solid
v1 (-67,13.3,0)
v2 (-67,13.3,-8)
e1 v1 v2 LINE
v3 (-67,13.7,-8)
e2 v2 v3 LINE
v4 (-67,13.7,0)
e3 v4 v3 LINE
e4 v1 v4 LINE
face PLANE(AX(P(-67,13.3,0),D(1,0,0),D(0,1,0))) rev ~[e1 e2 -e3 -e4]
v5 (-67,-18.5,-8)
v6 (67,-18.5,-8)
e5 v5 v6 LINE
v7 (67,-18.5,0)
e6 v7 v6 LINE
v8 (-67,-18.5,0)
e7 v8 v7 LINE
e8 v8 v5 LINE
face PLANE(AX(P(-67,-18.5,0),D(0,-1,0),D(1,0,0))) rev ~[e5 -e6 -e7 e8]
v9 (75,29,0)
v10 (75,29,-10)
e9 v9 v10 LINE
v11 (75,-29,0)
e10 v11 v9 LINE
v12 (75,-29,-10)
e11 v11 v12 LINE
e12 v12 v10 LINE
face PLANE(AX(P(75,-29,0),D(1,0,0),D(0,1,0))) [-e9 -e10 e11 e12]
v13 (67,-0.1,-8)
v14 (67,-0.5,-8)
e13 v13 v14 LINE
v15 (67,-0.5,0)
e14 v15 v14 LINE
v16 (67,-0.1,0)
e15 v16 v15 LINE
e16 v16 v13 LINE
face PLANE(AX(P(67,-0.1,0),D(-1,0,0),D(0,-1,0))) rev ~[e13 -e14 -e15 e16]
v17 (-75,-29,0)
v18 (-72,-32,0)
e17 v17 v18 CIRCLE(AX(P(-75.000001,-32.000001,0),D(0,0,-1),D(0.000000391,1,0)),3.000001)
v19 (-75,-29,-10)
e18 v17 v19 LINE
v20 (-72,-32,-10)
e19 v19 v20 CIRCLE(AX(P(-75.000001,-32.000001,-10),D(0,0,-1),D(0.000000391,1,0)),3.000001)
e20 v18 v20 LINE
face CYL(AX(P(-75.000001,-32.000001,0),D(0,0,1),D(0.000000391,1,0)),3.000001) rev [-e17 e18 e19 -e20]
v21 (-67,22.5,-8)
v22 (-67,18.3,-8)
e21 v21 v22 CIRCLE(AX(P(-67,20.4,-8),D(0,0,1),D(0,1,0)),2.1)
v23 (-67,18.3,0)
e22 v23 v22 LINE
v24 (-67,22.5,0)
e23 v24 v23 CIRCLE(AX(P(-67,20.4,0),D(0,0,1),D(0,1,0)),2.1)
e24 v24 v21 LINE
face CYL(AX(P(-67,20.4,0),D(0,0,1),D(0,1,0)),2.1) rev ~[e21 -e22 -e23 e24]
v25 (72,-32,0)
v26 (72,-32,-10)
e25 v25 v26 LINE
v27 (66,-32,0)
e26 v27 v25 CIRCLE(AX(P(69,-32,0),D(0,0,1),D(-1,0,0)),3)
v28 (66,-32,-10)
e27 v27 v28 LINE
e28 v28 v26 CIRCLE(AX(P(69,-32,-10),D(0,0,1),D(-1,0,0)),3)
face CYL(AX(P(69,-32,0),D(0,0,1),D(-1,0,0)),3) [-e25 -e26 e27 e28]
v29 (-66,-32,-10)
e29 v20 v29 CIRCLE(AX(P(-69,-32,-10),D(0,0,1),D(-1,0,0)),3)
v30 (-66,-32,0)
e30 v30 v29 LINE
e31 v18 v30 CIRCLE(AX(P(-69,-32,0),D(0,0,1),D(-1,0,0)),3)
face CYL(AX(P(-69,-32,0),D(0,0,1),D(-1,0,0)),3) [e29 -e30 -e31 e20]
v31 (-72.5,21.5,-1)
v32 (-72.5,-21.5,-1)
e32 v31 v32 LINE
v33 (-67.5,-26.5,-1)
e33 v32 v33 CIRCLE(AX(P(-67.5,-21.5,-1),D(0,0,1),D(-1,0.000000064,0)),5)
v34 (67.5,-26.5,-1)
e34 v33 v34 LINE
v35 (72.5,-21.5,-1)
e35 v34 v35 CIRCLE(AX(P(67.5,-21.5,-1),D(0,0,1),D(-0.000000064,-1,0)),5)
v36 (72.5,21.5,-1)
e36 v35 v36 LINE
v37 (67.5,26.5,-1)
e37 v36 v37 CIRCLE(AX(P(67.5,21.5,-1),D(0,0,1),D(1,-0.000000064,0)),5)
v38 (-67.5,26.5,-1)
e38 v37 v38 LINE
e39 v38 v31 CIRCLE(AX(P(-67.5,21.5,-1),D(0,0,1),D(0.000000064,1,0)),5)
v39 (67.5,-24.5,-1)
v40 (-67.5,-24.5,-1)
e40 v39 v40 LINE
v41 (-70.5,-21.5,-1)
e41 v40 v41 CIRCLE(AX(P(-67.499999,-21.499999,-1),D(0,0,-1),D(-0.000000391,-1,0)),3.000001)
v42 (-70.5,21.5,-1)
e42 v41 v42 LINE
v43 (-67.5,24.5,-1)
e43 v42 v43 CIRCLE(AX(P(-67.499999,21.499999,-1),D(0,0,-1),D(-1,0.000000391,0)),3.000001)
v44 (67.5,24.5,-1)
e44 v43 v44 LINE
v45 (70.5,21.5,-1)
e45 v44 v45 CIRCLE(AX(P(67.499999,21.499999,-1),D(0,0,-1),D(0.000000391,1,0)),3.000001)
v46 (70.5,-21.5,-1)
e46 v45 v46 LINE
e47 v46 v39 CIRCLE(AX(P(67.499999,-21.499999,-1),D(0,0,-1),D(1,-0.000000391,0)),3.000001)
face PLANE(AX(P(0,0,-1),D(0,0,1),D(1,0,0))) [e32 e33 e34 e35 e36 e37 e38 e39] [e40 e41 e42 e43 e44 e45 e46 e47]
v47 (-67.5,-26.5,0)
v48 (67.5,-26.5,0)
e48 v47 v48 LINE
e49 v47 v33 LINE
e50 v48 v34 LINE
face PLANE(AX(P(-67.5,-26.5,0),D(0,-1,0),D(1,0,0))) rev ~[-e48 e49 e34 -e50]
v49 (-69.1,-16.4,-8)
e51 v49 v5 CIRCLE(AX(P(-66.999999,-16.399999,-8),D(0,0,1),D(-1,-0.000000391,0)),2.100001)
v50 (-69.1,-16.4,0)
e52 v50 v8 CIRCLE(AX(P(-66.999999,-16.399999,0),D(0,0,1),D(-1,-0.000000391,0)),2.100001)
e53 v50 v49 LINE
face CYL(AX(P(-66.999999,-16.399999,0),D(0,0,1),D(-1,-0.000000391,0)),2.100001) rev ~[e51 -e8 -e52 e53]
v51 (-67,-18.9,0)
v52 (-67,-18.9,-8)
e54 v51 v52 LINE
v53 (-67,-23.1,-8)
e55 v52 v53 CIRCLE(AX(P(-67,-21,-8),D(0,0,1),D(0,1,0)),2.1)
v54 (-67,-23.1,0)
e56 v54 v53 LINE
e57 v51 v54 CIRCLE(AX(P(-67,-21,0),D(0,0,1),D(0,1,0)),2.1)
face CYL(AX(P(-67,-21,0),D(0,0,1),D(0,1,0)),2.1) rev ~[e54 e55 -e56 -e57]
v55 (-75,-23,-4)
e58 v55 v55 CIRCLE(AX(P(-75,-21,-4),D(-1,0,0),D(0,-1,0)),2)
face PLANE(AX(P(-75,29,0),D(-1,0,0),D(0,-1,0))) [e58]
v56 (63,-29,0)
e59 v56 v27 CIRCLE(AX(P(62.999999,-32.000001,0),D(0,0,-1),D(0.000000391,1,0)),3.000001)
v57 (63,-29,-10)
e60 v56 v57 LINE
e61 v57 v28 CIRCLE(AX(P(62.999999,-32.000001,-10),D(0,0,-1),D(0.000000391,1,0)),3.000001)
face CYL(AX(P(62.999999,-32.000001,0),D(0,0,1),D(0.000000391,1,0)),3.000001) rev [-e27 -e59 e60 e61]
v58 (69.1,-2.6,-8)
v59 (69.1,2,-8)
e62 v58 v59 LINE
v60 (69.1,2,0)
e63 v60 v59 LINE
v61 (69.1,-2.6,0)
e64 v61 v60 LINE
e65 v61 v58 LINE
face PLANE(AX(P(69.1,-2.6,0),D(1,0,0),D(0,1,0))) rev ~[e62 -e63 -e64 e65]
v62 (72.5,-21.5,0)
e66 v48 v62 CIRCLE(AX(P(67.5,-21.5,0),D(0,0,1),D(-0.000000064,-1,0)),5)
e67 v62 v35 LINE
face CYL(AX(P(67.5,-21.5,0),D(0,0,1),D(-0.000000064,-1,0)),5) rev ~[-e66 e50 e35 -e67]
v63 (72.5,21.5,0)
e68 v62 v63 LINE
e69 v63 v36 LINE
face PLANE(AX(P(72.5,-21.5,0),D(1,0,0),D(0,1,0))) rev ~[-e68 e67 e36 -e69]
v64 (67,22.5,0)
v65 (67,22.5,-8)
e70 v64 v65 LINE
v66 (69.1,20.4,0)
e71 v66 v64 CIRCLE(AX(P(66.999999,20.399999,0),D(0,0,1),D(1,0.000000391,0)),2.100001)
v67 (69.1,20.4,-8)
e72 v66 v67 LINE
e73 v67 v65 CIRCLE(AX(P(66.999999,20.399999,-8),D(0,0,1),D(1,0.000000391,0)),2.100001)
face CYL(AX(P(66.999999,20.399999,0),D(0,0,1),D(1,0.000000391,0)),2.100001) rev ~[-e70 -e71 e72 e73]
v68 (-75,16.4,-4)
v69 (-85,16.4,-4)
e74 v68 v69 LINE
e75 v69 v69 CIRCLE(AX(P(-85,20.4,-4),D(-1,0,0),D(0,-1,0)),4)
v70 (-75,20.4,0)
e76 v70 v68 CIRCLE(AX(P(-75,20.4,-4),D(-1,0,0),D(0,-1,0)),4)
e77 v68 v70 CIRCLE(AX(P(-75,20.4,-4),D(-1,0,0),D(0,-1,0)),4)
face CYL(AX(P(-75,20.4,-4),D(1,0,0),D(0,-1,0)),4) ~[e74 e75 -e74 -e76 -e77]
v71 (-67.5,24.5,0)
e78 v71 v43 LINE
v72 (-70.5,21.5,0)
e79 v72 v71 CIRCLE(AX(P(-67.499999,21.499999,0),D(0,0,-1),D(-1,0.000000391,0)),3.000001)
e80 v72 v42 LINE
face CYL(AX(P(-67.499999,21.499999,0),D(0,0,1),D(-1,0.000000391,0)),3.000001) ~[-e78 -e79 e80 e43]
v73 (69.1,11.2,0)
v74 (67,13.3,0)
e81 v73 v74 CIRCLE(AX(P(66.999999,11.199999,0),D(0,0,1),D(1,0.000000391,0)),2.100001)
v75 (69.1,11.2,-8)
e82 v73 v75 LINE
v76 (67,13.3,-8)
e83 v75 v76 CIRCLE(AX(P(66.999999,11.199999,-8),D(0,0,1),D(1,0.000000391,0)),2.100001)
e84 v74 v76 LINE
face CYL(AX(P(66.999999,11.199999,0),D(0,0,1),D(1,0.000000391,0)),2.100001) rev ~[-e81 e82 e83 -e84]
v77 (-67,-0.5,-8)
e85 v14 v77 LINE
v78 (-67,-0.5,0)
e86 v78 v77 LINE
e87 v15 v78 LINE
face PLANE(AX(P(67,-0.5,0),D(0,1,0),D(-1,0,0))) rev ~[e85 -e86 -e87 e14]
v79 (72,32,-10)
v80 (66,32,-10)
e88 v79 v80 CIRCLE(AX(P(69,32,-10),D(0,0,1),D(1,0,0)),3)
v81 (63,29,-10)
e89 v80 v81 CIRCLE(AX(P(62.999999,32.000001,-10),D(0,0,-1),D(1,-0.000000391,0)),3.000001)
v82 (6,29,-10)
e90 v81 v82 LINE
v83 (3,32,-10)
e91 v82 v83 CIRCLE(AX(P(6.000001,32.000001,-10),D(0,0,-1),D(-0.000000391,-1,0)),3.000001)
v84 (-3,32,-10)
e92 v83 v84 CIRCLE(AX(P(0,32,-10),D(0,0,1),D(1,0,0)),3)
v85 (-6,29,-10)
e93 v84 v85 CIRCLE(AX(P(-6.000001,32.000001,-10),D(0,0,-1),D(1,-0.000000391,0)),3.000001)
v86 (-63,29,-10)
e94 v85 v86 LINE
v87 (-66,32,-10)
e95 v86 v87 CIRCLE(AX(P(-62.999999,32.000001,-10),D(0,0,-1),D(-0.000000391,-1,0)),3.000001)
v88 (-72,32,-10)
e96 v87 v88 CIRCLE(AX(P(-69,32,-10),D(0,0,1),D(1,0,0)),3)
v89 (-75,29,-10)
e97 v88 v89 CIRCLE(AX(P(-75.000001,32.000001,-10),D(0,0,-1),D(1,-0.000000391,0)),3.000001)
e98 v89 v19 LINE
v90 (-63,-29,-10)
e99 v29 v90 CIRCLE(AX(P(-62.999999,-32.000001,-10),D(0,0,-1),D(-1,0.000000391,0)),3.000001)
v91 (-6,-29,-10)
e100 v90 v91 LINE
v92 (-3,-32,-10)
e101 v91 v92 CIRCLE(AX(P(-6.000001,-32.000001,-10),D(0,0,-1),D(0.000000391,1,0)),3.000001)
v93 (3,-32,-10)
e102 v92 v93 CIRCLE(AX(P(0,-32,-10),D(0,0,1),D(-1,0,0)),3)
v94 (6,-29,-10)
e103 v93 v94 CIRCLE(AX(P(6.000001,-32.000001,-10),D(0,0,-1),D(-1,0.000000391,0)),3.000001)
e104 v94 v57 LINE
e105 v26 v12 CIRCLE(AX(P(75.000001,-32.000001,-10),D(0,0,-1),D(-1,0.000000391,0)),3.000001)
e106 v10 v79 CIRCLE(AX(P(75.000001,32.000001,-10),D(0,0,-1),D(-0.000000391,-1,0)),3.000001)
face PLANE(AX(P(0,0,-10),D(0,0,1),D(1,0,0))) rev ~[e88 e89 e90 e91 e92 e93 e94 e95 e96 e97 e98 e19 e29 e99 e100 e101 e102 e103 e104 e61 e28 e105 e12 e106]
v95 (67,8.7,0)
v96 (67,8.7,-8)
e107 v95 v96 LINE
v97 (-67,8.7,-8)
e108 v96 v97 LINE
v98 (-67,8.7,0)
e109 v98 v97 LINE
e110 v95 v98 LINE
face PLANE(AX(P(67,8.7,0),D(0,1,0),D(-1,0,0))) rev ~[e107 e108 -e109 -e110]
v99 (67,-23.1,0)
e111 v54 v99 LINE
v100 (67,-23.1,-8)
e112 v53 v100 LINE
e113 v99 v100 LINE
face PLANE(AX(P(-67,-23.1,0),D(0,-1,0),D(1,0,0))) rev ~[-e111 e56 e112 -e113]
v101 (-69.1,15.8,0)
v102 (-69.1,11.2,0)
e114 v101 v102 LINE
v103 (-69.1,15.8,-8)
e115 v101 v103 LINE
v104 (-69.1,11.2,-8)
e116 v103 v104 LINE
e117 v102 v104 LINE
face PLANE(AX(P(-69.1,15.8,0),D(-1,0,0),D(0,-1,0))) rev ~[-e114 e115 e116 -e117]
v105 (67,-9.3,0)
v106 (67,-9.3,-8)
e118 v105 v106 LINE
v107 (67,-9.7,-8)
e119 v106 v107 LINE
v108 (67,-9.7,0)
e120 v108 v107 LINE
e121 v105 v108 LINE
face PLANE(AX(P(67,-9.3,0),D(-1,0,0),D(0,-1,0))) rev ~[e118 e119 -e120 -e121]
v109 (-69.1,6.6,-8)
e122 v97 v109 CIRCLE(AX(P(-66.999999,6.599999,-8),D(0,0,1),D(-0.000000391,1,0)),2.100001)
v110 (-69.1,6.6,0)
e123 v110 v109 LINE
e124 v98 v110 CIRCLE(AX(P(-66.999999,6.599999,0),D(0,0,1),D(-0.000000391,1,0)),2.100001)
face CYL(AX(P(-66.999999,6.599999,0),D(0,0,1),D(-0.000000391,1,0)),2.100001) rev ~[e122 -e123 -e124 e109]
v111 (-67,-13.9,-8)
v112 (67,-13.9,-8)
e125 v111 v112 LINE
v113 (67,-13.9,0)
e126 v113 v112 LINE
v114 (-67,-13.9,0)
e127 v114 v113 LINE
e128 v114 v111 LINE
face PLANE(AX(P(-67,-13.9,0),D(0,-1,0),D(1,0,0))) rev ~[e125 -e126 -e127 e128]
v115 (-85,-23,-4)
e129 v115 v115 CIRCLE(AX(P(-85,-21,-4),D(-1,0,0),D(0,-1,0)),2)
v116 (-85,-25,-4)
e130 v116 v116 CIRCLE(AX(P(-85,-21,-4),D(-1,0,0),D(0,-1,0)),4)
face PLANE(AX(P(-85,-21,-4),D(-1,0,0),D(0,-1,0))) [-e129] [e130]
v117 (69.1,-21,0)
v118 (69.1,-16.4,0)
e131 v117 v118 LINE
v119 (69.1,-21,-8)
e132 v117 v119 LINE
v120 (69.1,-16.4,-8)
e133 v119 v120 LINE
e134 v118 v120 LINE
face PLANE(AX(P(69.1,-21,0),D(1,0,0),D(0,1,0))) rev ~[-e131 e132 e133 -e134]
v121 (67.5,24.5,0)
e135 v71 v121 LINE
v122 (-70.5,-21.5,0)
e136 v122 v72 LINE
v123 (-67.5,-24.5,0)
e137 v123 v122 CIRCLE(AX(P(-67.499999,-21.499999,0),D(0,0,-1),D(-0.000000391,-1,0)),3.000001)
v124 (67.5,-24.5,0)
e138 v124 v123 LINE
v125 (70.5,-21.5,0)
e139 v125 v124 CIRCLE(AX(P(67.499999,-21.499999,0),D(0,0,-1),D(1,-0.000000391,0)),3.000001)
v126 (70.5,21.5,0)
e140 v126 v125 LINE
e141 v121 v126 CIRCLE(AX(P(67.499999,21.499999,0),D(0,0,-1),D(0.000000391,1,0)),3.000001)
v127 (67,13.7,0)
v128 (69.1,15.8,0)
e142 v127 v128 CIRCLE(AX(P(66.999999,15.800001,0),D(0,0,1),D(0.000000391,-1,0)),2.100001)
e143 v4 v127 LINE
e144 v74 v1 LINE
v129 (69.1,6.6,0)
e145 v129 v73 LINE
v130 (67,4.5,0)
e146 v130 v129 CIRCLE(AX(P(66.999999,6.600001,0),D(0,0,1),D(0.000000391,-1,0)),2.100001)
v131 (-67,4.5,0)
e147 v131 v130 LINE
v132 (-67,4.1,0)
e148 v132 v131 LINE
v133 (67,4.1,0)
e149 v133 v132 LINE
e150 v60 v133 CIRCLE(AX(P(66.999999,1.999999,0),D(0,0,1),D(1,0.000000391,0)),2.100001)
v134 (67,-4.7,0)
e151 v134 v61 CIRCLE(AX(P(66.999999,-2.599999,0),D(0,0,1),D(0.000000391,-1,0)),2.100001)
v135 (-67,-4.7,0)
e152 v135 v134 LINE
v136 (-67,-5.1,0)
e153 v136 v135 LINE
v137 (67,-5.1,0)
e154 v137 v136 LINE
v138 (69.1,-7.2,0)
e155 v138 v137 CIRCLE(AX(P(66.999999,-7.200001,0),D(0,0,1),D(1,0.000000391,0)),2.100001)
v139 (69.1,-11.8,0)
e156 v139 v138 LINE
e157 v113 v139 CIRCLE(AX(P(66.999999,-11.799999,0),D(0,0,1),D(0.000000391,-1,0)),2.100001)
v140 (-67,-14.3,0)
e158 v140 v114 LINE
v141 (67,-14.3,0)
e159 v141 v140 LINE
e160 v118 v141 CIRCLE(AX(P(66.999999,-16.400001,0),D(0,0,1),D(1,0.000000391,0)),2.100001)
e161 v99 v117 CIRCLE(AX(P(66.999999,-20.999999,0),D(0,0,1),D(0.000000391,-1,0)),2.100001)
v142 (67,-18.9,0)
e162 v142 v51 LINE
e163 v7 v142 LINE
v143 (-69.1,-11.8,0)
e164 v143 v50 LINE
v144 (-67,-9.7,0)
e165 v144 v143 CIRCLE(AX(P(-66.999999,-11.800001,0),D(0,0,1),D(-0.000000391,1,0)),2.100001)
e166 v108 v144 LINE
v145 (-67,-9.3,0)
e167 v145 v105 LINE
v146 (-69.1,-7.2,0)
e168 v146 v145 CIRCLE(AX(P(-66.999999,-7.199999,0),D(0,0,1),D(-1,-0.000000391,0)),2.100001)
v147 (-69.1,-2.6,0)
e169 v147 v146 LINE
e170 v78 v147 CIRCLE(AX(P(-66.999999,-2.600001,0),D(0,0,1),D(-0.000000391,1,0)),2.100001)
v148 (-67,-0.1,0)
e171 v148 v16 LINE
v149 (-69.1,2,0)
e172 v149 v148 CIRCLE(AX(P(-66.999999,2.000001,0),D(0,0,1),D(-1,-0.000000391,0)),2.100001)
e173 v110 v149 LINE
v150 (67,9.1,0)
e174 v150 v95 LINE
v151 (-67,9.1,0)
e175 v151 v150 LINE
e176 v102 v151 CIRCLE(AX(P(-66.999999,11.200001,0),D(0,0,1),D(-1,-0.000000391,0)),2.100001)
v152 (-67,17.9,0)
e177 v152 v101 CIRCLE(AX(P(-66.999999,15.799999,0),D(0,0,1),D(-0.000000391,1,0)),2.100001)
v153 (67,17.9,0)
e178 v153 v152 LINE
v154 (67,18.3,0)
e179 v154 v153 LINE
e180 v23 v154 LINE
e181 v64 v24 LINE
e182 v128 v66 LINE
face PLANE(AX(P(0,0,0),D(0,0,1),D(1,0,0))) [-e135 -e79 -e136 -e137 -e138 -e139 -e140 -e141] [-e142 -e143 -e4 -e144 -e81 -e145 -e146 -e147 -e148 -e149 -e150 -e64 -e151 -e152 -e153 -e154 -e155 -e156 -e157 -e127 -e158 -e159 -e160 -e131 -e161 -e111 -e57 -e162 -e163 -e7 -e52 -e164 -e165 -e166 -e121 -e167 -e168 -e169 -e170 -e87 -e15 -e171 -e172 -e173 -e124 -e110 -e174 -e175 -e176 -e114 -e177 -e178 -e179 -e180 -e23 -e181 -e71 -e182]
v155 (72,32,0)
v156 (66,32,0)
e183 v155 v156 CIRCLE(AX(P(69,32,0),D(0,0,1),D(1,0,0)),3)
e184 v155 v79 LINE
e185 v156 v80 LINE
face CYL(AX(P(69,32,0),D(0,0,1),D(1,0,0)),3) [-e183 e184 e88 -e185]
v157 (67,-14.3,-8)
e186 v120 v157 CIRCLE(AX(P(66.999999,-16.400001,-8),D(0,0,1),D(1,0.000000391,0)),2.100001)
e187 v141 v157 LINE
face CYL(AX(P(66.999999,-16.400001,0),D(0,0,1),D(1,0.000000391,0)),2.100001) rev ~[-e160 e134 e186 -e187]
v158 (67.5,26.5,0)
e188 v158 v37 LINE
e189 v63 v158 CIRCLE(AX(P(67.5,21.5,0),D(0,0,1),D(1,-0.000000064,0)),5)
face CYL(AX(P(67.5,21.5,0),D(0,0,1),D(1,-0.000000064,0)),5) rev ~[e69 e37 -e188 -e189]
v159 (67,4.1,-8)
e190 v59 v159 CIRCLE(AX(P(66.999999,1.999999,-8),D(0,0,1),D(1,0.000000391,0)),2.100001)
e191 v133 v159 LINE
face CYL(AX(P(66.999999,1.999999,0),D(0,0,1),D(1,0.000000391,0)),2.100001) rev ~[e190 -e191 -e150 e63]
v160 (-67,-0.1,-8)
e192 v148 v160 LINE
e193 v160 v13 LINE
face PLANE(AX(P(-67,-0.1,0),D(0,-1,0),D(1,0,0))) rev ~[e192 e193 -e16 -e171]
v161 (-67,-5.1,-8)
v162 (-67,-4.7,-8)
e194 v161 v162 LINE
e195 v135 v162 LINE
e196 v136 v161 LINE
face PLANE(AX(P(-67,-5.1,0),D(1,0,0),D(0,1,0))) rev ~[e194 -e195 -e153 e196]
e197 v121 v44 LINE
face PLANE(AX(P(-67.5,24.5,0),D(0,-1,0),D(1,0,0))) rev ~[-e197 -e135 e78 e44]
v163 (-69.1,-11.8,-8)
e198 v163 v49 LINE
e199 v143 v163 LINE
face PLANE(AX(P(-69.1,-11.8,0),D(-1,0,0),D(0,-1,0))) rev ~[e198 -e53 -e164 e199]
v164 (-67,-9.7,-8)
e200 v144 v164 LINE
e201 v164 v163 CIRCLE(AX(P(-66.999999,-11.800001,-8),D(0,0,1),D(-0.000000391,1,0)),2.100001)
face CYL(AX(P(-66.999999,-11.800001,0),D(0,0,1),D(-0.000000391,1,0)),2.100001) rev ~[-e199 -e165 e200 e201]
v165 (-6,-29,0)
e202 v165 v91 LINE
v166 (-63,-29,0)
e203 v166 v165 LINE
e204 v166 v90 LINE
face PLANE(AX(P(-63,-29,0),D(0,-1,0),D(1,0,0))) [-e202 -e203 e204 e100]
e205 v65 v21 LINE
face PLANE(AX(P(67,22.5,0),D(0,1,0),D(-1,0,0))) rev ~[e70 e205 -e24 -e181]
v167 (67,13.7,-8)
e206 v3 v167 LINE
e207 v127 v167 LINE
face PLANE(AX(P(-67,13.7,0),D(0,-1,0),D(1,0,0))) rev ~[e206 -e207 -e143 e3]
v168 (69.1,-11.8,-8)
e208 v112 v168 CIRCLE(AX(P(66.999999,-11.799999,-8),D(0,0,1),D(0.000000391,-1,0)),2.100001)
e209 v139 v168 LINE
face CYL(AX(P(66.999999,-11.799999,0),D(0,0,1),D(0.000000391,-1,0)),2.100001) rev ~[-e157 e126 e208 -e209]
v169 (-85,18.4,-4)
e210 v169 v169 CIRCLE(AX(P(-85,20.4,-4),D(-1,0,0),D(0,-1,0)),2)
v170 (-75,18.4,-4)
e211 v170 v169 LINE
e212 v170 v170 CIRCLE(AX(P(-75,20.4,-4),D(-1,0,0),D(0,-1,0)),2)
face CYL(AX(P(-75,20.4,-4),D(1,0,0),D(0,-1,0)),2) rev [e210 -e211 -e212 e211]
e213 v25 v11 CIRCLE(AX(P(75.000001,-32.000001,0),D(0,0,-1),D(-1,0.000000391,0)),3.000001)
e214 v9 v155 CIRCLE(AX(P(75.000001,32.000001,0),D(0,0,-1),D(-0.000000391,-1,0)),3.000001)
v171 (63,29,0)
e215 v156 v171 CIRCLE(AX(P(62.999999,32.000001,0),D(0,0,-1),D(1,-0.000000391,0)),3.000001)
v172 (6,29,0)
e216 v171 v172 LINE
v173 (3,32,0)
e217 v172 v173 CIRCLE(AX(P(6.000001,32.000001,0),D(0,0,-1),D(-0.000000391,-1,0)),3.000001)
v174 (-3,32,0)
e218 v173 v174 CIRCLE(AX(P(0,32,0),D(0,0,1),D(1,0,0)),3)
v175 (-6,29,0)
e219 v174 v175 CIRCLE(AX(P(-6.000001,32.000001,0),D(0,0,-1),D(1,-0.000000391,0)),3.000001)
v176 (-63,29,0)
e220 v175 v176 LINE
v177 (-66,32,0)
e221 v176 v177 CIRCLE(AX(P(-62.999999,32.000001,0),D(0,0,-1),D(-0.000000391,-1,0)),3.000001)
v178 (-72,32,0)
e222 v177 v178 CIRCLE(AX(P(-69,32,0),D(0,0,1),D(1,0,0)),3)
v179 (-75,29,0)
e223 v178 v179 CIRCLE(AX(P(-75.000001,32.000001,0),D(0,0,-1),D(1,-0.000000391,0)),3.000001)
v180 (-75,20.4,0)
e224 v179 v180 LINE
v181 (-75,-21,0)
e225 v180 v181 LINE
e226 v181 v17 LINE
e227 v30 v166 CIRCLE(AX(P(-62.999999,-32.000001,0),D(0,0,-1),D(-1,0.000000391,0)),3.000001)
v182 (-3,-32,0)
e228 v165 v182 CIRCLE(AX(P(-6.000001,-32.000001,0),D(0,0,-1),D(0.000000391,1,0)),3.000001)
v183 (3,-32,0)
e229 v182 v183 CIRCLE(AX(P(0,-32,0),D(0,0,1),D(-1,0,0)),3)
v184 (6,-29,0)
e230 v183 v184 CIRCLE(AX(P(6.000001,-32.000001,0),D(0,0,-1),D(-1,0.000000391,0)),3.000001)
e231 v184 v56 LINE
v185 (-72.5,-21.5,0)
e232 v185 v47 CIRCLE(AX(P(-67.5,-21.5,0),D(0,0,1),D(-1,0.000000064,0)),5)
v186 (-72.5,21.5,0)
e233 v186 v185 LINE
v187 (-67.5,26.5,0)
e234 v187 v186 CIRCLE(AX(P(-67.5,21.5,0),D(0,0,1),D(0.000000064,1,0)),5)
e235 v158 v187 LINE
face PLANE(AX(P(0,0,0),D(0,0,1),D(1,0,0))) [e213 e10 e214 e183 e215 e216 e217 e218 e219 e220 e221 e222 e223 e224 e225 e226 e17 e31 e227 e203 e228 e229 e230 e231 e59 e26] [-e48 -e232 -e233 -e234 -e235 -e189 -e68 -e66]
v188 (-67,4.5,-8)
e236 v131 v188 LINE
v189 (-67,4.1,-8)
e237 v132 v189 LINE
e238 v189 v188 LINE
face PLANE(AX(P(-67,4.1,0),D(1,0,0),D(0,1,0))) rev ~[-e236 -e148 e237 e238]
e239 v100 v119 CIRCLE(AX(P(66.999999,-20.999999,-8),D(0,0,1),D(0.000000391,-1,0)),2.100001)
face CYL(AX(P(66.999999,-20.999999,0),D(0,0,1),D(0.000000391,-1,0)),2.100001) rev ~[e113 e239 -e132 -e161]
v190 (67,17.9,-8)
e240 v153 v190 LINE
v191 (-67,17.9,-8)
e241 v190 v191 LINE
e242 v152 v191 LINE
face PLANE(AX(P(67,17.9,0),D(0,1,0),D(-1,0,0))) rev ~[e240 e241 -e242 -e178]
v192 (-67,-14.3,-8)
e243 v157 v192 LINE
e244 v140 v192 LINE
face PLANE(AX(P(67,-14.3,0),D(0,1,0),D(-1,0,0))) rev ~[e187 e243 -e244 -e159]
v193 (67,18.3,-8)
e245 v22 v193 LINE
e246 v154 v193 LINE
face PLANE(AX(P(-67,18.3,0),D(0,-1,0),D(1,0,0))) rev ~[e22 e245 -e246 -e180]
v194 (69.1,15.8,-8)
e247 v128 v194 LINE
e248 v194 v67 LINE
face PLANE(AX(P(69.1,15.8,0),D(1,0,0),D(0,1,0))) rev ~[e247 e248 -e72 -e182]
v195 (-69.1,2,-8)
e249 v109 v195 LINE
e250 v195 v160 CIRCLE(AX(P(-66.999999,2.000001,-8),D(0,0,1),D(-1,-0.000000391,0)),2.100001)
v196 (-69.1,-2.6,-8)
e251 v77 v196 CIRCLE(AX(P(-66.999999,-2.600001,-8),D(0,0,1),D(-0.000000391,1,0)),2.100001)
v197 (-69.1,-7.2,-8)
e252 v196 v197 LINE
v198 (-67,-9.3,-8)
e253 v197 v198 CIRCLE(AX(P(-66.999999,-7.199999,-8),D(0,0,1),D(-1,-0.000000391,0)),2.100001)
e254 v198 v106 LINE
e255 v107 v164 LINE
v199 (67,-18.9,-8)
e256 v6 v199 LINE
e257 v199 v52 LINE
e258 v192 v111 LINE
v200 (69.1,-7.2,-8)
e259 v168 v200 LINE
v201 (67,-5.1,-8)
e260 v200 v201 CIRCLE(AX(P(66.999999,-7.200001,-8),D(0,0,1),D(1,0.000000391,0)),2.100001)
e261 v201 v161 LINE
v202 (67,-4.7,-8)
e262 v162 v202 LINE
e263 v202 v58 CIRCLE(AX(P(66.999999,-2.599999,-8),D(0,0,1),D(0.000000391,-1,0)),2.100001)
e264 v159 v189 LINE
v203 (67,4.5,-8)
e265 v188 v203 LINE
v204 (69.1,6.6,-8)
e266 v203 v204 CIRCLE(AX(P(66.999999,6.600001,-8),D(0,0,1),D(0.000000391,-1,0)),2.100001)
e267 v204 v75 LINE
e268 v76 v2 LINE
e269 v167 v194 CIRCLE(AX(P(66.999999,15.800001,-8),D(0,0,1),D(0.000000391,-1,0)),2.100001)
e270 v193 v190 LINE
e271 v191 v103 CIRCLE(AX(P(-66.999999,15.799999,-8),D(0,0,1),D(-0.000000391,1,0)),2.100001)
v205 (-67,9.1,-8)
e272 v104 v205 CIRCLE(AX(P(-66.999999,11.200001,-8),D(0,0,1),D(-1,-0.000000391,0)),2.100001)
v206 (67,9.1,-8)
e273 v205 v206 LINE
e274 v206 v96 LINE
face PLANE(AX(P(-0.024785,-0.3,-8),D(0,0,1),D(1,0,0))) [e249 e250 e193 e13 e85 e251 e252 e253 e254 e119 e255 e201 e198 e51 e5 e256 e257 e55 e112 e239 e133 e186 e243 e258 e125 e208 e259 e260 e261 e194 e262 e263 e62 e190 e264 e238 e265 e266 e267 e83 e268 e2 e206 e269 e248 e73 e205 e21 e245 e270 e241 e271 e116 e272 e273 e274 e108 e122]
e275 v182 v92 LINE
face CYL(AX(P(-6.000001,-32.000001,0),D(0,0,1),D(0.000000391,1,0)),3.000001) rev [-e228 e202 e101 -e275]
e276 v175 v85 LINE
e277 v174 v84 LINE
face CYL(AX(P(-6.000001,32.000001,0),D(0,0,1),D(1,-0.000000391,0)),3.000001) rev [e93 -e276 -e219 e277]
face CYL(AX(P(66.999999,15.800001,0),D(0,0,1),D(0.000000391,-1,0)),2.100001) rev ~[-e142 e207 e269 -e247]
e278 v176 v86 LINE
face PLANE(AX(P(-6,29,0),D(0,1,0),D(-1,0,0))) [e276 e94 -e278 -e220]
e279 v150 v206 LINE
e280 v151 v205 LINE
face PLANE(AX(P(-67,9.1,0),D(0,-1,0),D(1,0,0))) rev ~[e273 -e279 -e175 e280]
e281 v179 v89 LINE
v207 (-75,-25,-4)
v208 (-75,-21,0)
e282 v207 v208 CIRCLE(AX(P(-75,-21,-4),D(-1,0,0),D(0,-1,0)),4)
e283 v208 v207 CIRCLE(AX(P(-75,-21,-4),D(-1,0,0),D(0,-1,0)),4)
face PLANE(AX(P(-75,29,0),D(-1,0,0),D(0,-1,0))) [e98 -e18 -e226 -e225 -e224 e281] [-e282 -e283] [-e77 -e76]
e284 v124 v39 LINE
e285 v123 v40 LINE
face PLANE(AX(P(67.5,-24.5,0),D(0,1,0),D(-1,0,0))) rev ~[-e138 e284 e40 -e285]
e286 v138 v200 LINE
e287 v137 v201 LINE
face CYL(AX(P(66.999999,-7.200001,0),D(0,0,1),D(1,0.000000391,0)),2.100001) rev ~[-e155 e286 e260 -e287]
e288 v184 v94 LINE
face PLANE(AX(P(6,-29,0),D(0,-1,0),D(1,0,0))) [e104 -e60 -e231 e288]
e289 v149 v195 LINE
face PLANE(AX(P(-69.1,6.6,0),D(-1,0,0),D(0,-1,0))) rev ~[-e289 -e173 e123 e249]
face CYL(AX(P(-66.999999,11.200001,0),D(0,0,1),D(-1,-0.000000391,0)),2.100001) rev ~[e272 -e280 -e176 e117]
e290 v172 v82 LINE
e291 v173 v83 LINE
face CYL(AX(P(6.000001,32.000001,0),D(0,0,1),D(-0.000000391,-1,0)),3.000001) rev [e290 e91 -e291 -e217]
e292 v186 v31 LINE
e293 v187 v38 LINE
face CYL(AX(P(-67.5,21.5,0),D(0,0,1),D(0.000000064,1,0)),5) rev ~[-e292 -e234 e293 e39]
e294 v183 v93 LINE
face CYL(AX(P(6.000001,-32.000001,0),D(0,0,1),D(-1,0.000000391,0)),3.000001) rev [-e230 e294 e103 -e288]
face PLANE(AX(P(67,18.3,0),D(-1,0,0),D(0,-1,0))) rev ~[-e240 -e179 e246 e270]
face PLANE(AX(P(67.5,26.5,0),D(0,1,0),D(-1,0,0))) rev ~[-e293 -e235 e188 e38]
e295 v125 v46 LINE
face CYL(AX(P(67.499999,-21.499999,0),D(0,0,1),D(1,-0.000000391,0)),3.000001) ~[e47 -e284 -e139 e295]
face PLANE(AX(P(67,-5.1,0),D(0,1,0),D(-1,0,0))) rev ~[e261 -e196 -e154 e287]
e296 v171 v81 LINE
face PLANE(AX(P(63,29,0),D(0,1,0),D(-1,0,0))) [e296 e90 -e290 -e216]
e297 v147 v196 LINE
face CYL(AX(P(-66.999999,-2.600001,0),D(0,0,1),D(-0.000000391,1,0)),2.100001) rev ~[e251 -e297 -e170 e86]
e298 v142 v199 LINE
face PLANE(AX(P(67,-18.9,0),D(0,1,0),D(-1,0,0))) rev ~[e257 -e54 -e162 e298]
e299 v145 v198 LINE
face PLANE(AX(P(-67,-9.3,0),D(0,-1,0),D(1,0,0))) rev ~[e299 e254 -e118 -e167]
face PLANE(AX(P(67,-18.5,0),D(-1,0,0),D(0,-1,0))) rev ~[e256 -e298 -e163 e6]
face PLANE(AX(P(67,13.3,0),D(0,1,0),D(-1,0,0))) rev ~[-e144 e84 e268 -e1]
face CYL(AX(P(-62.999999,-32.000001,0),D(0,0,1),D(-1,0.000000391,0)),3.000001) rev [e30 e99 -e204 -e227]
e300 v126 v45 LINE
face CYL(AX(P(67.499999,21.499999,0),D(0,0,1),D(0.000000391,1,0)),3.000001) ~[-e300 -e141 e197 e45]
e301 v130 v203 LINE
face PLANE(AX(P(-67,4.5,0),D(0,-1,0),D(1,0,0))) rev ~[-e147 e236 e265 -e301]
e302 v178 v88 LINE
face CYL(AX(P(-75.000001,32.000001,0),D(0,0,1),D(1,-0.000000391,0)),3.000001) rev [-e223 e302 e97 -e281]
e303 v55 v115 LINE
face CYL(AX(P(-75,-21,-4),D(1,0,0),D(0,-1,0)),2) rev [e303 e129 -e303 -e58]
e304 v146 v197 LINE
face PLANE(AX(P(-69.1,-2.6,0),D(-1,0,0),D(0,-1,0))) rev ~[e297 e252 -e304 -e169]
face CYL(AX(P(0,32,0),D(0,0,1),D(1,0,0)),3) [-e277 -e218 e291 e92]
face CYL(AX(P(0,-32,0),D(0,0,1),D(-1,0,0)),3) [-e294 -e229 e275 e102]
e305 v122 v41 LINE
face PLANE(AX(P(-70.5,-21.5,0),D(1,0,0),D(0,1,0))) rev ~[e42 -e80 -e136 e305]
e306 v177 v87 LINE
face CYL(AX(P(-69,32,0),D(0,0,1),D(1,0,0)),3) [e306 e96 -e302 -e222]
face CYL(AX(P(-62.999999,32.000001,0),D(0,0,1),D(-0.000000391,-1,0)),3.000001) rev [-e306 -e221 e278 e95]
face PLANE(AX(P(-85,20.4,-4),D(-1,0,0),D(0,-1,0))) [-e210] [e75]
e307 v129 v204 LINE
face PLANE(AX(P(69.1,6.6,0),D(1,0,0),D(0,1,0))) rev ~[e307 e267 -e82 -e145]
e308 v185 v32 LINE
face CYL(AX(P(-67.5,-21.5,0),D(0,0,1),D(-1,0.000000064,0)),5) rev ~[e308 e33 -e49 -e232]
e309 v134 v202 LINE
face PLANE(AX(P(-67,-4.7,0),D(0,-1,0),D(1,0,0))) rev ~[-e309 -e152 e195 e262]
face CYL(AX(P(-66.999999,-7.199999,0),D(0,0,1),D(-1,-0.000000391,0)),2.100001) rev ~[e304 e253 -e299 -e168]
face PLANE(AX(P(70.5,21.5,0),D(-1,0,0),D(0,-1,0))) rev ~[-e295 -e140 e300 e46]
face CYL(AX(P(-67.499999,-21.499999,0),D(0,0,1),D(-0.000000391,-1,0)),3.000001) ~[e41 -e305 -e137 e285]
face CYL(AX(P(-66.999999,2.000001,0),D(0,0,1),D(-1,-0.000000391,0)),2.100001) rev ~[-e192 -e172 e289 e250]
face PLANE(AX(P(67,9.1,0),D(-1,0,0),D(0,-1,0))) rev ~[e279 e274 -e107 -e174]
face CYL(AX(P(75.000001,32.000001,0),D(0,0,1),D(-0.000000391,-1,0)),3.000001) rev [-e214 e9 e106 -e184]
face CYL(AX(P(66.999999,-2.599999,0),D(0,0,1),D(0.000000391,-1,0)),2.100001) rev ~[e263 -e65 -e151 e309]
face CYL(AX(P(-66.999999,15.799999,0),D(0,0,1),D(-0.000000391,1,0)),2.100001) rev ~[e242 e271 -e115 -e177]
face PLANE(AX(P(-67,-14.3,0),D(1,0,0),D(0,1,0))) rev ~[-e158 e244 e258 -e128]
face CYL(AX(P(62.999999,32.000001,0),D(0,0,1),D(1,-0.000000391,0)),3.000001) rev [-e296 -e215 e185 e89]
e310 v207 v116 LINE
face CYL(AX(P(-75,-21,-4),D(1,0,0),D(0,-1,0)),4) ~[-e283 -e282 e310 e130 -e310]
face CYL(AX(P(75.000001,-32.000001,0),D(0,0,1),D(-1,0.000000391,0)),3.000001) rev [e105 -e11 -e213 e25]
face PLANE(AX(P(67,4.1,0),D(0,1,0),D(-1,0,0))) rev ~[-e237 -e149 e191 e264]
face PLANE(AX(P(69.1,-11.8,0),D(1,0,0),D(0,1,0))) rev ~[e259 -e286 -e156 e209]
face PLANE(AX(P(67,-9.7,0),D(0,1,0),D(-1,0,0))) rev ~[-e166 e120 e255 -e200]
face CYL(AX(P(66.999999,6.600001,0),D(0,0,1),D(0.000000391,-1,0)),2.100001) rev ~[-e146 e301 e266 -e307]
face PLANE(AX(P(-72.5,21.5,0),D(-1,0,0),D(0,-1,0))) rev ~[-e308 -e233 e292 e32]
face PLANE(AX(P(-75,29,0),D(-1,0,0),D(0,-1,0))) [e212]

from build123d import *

# Parameters (mm, degrees)
F1_DEPTH = 10
F3_DEPTH = 1
F5_DEPTH = 8
F6_R     = 4
F6_R_2   = 2
F7_DEPTH = 10


with BuildPart() as f1:
    # F0 (on Top) → F1 (new body)
    with BuildSketch(Plane.XY):
        with BuildLine():
            ThreePointArc((66, 32), (65.12132, 29.87868), (63, 29))
            Line((63, 29), (6, 29))
            ThreePointArc((6, 29), (3.87868, 29.87868), (3, 32))
            ThreePointArc((3, 32), (0, 35), (-3, 32))
            ThreePointArc((-3, 32), (-3.87868, 29.87868), (-6, 29))
            Line((-6, 29), (-63, 29))
            ThreePointArc((-63, 29), (-65.12132, 29.87868), (-66, 32))
            ThreePointArc((-66, 32), (-69, 35), (-72, 32))
            ThreePointArc((-72, 32), (-72.87868, 29.87868), (-75, 29))
            Line((-75, 29), (-75, -29))
            ThreePointArc((-75, -29), (-72.87868, -29.87868), (-72, -32))
            ThreePointArc((-72, -32), (-69, -35), (-66, -32))
            ThreePointArc((-66, -32), (-65.12132, -29.87868), (-63, -29))
            Line((-63, -29), (-6, -29))
            ThreePointArc((-6, -29), (-3.87868, -29.87868), (-3, -32))
            ThreePointArc((-3, -32), (0, -35), (3, -32))
            ThreePointArc((3, -32), (3.87868, -29.87868), (6, -29))
            Line((6, -29), (63, -29))
            ThreePointArc((63, -29), (65.12132, -29.87868), (66, -32))
            ThreePointArc((66, -32), (69, -35), (72, -32))
            ThreePointArc((72, -32), (72.87868, -29.87868), (75, -29))
            Line((75, -29), (75, 29))
            ThreePointArc((75, 29), (72.87868, 29.87868), (72, 32))
            ThreePointArc((72, 32), (69, 35), (66, 32))
        make_face()
    extrude(amount=-F1_DEPTH)

    # F2 (on face) → F3 (cut)
    with BuildSketch(Plane.XY):
        with BuildLine():
            ThreePointArc((72.5, 21.5), (71.035534, 25.035534), (67.5, 26.5))
            Line((67.5, 26.5), (-67.5, 26.5))
            ThreePointArc((-67.5, 26.5), (-71.035534, 25.035534), (-72.5, 21.5))
            Line((-72.5, 21.5), (-72.5, -21.5))
            ThreePointArc((-72.5, -21.5), (-71.035534, -25.035534), (-67.5, -26.5))
            Line((-67.5, -26.5), (67.5, -26.5))
            ThreePointArc((67.5, -26.5), (71.035534, -25.035534), (72.5, -21.5))
            Line((72.5, -21.5), (72.5, 21.5))
        make_face()
        with BuildLine():
            Line((-67.5, 24.5), (67.5, 24.5))
            ThreePointArc((67.5, 24.5), (69.62132, 23.62132), (70.5, 21.5))
            Line((70.5, 21.5), (70.5, -21.5))
            ThreePointArc((70.5, -21.5), (69.62132, -23.62132), (67.5, -24.5))
            Line((67.5, -24.5), (-67.5, -24.5))
            ThreePointArc((-67.5, -24.5), (-69.62132, -23.62132), (-70.5, -21.5))
            Line((-70.5, -21.5), (-70.5, 21.5))
            ThreePointArc((-70.5, 21.5), (-69.62132, 23.62132), (-67.5, 24.5))
        make_face(mode=Mode.SUBTRACT)
    extrude(amount=-F3_DEPTH, mode=Mode.SUBTRACT)

    # F4 (on face) → F5 (cut)
    with BuildSketch(Plane.XY):
        with BuildLine():
            Line((67, -18.9), (-67, -18.9))
            ThreePointArc((-67, -18.9), (-69.1, -21), (-67, -23.1))
            Line((-67, -23.1), (67, -23.1))
            ThreePointArc((67, -23.1), (68.484924, -22.484924), (69.1, -21))
            Line((69.1, -21), (69.1, -16.4))
            ThreePointArc((69.1, -16.4), (68.484924, -14.915076), (67, -14.3))
            Line((67, -14.3), (-67, -14.3))
            Line((-67, -14.3), (-67, -13.9))
            Line((-67, -13.9), (67, -13.9))
            ThreePointArc((67, -13.9), (68.484924, -13.284924), (69.1, -11.8))
            Line((69.1, -11.8), (69.1, -7.2))
            ThreePointArc((69.1, -7.2), (68.484924, -5.715076), (67, -5.1))
            Line((67, -5.1), (-67, -5.1))
            Line((-67, -5.1), (-67, -4.7))
            Line((-67, -4.7), (67, -4.7))
            ThreePointArc((67, -4.7), (68.484924, -4.084924), (69.1, -2.6))
            Line((69.1, -2.6), (69.1, 2))
            ThreePointArc((69.1, 2), (68.484924, 3.484924), (67, 4.1))
            Line((67, 4.1), (-67, 4.1))
            Line((-67, 4.1), (-67, 4.5))
            Line((-67, 4.5), (67, 4.5))
            ThreePointArc((67, 4.5), (68.484924, 5.115076), (69.1, 6.6))
            Line((69.1, 6.6), (69.1, 11.2))
            ThreePointArc((69.1, 11.2), (68.484924, 12.684924), (67, 13.3))
            Line((67, 13.3), (-67, 13.3))
            Line((-67, 13.3), (-67, 13.7))
            Line((-67, 13.7), (67, 13.7))
            ThreePointArc((67, 13.7), (68.484924, 14.315076), (69.1, 15.8))
            Line((69.1, 15.8), (69.1, 20.4))
            ThreePointArc((69.1, 20.4), (68.484924, 21.884924), (67, 22.5))
            Line((67, 22.5), (-67, 22.5))
            ThreePointArc((-67, 22.5), (-69.1, 20.4), (-67, 18.3))
            Line((-67, 18.3), (67, 18.3))
            Line((67, 18.3), (67, 17.9))
            Line((67, 17.9), (-67, 17.9))
            ThreePointArc((-67, 17.9), (-68.484924, 17.284924), (-69.1, 15.8))
            Line((-69.1, 15.8), (-69.1, 11.2))
            ThreePointArc((-69.1, 11.2), (-68.484924, 9.715076), (-67, 9.1))
            Line((-67, 9.1), (67, 9.1))
            Line((67, 9.1), (67, 8.7))
            Line((67, 8.7), (-67, 8.7))
            ThreePointArc((-67, 8.7), (-68.484924, 8.084924), (-69.1, 6.6))
            Line((-69.1, 6.6), (-69.1, 2))
            ThreePointArc((-69.1, 2), (-68.484924, 0.515076), (-67, -0.1))
            Line((-67, -0.1), (67, -0.1))
            Line((67, -0.1), (67, -0.5))
            Line((67, -0.5), (-67, -0.5))
            ThreePointArc((-67, -0.5), (-68.484924, -1.115076), (-69.1, -2.6))
            Line((-69.1, -2.6), (-69.1, -7.2))
            ThreePointArc((-69.1, -7.2), (-68.484924, -8.684924), (-67, -9.3))
            Line((-67, -9.3), (67, -9.3))
            Line((67, -9.3), (67, -9.7))
            Line((67, -9.7), (-67, -9.7))
            ThreePointArc((-67, -9.7), (-68.484924, -10.315076), (-69.1, -11.8))
            Line((-69.1, -11.8), (-69.1, -16.4))
            ThreePointArc((-69.1, -16.4), (-68.484924, -17.884924), (-67, -18.5))
            Line((-67, -18.5), (67, -18.5))
            Line((67, -18.5), (67, -18.9))
        make_face()
    extrude(amount=-F5_DEPTH, mode=Mode.SUBTRACT)

    # F6 (on face) → F7 (join)
    with BuildSketch(Plane(origin=(-75, 0, 0), x_dir=(0, -1, 0), z_dir=(-1, 0, 0))):
        with Locations((-20.4, -4)):
            Circle(F6_R)
        with Locations((-20.4, -4)):
            Circle(F6_R_2, mode=Mode.SUBTRACT)
        with Locations((21, -4)):
            Circle(F6_R)
        with Locations((21, -4)):
            Circle(F6_R_2, mode=Mode.SUBTRACT)
    extrude(amount=F7_DEPTH)


solid = f1.part
